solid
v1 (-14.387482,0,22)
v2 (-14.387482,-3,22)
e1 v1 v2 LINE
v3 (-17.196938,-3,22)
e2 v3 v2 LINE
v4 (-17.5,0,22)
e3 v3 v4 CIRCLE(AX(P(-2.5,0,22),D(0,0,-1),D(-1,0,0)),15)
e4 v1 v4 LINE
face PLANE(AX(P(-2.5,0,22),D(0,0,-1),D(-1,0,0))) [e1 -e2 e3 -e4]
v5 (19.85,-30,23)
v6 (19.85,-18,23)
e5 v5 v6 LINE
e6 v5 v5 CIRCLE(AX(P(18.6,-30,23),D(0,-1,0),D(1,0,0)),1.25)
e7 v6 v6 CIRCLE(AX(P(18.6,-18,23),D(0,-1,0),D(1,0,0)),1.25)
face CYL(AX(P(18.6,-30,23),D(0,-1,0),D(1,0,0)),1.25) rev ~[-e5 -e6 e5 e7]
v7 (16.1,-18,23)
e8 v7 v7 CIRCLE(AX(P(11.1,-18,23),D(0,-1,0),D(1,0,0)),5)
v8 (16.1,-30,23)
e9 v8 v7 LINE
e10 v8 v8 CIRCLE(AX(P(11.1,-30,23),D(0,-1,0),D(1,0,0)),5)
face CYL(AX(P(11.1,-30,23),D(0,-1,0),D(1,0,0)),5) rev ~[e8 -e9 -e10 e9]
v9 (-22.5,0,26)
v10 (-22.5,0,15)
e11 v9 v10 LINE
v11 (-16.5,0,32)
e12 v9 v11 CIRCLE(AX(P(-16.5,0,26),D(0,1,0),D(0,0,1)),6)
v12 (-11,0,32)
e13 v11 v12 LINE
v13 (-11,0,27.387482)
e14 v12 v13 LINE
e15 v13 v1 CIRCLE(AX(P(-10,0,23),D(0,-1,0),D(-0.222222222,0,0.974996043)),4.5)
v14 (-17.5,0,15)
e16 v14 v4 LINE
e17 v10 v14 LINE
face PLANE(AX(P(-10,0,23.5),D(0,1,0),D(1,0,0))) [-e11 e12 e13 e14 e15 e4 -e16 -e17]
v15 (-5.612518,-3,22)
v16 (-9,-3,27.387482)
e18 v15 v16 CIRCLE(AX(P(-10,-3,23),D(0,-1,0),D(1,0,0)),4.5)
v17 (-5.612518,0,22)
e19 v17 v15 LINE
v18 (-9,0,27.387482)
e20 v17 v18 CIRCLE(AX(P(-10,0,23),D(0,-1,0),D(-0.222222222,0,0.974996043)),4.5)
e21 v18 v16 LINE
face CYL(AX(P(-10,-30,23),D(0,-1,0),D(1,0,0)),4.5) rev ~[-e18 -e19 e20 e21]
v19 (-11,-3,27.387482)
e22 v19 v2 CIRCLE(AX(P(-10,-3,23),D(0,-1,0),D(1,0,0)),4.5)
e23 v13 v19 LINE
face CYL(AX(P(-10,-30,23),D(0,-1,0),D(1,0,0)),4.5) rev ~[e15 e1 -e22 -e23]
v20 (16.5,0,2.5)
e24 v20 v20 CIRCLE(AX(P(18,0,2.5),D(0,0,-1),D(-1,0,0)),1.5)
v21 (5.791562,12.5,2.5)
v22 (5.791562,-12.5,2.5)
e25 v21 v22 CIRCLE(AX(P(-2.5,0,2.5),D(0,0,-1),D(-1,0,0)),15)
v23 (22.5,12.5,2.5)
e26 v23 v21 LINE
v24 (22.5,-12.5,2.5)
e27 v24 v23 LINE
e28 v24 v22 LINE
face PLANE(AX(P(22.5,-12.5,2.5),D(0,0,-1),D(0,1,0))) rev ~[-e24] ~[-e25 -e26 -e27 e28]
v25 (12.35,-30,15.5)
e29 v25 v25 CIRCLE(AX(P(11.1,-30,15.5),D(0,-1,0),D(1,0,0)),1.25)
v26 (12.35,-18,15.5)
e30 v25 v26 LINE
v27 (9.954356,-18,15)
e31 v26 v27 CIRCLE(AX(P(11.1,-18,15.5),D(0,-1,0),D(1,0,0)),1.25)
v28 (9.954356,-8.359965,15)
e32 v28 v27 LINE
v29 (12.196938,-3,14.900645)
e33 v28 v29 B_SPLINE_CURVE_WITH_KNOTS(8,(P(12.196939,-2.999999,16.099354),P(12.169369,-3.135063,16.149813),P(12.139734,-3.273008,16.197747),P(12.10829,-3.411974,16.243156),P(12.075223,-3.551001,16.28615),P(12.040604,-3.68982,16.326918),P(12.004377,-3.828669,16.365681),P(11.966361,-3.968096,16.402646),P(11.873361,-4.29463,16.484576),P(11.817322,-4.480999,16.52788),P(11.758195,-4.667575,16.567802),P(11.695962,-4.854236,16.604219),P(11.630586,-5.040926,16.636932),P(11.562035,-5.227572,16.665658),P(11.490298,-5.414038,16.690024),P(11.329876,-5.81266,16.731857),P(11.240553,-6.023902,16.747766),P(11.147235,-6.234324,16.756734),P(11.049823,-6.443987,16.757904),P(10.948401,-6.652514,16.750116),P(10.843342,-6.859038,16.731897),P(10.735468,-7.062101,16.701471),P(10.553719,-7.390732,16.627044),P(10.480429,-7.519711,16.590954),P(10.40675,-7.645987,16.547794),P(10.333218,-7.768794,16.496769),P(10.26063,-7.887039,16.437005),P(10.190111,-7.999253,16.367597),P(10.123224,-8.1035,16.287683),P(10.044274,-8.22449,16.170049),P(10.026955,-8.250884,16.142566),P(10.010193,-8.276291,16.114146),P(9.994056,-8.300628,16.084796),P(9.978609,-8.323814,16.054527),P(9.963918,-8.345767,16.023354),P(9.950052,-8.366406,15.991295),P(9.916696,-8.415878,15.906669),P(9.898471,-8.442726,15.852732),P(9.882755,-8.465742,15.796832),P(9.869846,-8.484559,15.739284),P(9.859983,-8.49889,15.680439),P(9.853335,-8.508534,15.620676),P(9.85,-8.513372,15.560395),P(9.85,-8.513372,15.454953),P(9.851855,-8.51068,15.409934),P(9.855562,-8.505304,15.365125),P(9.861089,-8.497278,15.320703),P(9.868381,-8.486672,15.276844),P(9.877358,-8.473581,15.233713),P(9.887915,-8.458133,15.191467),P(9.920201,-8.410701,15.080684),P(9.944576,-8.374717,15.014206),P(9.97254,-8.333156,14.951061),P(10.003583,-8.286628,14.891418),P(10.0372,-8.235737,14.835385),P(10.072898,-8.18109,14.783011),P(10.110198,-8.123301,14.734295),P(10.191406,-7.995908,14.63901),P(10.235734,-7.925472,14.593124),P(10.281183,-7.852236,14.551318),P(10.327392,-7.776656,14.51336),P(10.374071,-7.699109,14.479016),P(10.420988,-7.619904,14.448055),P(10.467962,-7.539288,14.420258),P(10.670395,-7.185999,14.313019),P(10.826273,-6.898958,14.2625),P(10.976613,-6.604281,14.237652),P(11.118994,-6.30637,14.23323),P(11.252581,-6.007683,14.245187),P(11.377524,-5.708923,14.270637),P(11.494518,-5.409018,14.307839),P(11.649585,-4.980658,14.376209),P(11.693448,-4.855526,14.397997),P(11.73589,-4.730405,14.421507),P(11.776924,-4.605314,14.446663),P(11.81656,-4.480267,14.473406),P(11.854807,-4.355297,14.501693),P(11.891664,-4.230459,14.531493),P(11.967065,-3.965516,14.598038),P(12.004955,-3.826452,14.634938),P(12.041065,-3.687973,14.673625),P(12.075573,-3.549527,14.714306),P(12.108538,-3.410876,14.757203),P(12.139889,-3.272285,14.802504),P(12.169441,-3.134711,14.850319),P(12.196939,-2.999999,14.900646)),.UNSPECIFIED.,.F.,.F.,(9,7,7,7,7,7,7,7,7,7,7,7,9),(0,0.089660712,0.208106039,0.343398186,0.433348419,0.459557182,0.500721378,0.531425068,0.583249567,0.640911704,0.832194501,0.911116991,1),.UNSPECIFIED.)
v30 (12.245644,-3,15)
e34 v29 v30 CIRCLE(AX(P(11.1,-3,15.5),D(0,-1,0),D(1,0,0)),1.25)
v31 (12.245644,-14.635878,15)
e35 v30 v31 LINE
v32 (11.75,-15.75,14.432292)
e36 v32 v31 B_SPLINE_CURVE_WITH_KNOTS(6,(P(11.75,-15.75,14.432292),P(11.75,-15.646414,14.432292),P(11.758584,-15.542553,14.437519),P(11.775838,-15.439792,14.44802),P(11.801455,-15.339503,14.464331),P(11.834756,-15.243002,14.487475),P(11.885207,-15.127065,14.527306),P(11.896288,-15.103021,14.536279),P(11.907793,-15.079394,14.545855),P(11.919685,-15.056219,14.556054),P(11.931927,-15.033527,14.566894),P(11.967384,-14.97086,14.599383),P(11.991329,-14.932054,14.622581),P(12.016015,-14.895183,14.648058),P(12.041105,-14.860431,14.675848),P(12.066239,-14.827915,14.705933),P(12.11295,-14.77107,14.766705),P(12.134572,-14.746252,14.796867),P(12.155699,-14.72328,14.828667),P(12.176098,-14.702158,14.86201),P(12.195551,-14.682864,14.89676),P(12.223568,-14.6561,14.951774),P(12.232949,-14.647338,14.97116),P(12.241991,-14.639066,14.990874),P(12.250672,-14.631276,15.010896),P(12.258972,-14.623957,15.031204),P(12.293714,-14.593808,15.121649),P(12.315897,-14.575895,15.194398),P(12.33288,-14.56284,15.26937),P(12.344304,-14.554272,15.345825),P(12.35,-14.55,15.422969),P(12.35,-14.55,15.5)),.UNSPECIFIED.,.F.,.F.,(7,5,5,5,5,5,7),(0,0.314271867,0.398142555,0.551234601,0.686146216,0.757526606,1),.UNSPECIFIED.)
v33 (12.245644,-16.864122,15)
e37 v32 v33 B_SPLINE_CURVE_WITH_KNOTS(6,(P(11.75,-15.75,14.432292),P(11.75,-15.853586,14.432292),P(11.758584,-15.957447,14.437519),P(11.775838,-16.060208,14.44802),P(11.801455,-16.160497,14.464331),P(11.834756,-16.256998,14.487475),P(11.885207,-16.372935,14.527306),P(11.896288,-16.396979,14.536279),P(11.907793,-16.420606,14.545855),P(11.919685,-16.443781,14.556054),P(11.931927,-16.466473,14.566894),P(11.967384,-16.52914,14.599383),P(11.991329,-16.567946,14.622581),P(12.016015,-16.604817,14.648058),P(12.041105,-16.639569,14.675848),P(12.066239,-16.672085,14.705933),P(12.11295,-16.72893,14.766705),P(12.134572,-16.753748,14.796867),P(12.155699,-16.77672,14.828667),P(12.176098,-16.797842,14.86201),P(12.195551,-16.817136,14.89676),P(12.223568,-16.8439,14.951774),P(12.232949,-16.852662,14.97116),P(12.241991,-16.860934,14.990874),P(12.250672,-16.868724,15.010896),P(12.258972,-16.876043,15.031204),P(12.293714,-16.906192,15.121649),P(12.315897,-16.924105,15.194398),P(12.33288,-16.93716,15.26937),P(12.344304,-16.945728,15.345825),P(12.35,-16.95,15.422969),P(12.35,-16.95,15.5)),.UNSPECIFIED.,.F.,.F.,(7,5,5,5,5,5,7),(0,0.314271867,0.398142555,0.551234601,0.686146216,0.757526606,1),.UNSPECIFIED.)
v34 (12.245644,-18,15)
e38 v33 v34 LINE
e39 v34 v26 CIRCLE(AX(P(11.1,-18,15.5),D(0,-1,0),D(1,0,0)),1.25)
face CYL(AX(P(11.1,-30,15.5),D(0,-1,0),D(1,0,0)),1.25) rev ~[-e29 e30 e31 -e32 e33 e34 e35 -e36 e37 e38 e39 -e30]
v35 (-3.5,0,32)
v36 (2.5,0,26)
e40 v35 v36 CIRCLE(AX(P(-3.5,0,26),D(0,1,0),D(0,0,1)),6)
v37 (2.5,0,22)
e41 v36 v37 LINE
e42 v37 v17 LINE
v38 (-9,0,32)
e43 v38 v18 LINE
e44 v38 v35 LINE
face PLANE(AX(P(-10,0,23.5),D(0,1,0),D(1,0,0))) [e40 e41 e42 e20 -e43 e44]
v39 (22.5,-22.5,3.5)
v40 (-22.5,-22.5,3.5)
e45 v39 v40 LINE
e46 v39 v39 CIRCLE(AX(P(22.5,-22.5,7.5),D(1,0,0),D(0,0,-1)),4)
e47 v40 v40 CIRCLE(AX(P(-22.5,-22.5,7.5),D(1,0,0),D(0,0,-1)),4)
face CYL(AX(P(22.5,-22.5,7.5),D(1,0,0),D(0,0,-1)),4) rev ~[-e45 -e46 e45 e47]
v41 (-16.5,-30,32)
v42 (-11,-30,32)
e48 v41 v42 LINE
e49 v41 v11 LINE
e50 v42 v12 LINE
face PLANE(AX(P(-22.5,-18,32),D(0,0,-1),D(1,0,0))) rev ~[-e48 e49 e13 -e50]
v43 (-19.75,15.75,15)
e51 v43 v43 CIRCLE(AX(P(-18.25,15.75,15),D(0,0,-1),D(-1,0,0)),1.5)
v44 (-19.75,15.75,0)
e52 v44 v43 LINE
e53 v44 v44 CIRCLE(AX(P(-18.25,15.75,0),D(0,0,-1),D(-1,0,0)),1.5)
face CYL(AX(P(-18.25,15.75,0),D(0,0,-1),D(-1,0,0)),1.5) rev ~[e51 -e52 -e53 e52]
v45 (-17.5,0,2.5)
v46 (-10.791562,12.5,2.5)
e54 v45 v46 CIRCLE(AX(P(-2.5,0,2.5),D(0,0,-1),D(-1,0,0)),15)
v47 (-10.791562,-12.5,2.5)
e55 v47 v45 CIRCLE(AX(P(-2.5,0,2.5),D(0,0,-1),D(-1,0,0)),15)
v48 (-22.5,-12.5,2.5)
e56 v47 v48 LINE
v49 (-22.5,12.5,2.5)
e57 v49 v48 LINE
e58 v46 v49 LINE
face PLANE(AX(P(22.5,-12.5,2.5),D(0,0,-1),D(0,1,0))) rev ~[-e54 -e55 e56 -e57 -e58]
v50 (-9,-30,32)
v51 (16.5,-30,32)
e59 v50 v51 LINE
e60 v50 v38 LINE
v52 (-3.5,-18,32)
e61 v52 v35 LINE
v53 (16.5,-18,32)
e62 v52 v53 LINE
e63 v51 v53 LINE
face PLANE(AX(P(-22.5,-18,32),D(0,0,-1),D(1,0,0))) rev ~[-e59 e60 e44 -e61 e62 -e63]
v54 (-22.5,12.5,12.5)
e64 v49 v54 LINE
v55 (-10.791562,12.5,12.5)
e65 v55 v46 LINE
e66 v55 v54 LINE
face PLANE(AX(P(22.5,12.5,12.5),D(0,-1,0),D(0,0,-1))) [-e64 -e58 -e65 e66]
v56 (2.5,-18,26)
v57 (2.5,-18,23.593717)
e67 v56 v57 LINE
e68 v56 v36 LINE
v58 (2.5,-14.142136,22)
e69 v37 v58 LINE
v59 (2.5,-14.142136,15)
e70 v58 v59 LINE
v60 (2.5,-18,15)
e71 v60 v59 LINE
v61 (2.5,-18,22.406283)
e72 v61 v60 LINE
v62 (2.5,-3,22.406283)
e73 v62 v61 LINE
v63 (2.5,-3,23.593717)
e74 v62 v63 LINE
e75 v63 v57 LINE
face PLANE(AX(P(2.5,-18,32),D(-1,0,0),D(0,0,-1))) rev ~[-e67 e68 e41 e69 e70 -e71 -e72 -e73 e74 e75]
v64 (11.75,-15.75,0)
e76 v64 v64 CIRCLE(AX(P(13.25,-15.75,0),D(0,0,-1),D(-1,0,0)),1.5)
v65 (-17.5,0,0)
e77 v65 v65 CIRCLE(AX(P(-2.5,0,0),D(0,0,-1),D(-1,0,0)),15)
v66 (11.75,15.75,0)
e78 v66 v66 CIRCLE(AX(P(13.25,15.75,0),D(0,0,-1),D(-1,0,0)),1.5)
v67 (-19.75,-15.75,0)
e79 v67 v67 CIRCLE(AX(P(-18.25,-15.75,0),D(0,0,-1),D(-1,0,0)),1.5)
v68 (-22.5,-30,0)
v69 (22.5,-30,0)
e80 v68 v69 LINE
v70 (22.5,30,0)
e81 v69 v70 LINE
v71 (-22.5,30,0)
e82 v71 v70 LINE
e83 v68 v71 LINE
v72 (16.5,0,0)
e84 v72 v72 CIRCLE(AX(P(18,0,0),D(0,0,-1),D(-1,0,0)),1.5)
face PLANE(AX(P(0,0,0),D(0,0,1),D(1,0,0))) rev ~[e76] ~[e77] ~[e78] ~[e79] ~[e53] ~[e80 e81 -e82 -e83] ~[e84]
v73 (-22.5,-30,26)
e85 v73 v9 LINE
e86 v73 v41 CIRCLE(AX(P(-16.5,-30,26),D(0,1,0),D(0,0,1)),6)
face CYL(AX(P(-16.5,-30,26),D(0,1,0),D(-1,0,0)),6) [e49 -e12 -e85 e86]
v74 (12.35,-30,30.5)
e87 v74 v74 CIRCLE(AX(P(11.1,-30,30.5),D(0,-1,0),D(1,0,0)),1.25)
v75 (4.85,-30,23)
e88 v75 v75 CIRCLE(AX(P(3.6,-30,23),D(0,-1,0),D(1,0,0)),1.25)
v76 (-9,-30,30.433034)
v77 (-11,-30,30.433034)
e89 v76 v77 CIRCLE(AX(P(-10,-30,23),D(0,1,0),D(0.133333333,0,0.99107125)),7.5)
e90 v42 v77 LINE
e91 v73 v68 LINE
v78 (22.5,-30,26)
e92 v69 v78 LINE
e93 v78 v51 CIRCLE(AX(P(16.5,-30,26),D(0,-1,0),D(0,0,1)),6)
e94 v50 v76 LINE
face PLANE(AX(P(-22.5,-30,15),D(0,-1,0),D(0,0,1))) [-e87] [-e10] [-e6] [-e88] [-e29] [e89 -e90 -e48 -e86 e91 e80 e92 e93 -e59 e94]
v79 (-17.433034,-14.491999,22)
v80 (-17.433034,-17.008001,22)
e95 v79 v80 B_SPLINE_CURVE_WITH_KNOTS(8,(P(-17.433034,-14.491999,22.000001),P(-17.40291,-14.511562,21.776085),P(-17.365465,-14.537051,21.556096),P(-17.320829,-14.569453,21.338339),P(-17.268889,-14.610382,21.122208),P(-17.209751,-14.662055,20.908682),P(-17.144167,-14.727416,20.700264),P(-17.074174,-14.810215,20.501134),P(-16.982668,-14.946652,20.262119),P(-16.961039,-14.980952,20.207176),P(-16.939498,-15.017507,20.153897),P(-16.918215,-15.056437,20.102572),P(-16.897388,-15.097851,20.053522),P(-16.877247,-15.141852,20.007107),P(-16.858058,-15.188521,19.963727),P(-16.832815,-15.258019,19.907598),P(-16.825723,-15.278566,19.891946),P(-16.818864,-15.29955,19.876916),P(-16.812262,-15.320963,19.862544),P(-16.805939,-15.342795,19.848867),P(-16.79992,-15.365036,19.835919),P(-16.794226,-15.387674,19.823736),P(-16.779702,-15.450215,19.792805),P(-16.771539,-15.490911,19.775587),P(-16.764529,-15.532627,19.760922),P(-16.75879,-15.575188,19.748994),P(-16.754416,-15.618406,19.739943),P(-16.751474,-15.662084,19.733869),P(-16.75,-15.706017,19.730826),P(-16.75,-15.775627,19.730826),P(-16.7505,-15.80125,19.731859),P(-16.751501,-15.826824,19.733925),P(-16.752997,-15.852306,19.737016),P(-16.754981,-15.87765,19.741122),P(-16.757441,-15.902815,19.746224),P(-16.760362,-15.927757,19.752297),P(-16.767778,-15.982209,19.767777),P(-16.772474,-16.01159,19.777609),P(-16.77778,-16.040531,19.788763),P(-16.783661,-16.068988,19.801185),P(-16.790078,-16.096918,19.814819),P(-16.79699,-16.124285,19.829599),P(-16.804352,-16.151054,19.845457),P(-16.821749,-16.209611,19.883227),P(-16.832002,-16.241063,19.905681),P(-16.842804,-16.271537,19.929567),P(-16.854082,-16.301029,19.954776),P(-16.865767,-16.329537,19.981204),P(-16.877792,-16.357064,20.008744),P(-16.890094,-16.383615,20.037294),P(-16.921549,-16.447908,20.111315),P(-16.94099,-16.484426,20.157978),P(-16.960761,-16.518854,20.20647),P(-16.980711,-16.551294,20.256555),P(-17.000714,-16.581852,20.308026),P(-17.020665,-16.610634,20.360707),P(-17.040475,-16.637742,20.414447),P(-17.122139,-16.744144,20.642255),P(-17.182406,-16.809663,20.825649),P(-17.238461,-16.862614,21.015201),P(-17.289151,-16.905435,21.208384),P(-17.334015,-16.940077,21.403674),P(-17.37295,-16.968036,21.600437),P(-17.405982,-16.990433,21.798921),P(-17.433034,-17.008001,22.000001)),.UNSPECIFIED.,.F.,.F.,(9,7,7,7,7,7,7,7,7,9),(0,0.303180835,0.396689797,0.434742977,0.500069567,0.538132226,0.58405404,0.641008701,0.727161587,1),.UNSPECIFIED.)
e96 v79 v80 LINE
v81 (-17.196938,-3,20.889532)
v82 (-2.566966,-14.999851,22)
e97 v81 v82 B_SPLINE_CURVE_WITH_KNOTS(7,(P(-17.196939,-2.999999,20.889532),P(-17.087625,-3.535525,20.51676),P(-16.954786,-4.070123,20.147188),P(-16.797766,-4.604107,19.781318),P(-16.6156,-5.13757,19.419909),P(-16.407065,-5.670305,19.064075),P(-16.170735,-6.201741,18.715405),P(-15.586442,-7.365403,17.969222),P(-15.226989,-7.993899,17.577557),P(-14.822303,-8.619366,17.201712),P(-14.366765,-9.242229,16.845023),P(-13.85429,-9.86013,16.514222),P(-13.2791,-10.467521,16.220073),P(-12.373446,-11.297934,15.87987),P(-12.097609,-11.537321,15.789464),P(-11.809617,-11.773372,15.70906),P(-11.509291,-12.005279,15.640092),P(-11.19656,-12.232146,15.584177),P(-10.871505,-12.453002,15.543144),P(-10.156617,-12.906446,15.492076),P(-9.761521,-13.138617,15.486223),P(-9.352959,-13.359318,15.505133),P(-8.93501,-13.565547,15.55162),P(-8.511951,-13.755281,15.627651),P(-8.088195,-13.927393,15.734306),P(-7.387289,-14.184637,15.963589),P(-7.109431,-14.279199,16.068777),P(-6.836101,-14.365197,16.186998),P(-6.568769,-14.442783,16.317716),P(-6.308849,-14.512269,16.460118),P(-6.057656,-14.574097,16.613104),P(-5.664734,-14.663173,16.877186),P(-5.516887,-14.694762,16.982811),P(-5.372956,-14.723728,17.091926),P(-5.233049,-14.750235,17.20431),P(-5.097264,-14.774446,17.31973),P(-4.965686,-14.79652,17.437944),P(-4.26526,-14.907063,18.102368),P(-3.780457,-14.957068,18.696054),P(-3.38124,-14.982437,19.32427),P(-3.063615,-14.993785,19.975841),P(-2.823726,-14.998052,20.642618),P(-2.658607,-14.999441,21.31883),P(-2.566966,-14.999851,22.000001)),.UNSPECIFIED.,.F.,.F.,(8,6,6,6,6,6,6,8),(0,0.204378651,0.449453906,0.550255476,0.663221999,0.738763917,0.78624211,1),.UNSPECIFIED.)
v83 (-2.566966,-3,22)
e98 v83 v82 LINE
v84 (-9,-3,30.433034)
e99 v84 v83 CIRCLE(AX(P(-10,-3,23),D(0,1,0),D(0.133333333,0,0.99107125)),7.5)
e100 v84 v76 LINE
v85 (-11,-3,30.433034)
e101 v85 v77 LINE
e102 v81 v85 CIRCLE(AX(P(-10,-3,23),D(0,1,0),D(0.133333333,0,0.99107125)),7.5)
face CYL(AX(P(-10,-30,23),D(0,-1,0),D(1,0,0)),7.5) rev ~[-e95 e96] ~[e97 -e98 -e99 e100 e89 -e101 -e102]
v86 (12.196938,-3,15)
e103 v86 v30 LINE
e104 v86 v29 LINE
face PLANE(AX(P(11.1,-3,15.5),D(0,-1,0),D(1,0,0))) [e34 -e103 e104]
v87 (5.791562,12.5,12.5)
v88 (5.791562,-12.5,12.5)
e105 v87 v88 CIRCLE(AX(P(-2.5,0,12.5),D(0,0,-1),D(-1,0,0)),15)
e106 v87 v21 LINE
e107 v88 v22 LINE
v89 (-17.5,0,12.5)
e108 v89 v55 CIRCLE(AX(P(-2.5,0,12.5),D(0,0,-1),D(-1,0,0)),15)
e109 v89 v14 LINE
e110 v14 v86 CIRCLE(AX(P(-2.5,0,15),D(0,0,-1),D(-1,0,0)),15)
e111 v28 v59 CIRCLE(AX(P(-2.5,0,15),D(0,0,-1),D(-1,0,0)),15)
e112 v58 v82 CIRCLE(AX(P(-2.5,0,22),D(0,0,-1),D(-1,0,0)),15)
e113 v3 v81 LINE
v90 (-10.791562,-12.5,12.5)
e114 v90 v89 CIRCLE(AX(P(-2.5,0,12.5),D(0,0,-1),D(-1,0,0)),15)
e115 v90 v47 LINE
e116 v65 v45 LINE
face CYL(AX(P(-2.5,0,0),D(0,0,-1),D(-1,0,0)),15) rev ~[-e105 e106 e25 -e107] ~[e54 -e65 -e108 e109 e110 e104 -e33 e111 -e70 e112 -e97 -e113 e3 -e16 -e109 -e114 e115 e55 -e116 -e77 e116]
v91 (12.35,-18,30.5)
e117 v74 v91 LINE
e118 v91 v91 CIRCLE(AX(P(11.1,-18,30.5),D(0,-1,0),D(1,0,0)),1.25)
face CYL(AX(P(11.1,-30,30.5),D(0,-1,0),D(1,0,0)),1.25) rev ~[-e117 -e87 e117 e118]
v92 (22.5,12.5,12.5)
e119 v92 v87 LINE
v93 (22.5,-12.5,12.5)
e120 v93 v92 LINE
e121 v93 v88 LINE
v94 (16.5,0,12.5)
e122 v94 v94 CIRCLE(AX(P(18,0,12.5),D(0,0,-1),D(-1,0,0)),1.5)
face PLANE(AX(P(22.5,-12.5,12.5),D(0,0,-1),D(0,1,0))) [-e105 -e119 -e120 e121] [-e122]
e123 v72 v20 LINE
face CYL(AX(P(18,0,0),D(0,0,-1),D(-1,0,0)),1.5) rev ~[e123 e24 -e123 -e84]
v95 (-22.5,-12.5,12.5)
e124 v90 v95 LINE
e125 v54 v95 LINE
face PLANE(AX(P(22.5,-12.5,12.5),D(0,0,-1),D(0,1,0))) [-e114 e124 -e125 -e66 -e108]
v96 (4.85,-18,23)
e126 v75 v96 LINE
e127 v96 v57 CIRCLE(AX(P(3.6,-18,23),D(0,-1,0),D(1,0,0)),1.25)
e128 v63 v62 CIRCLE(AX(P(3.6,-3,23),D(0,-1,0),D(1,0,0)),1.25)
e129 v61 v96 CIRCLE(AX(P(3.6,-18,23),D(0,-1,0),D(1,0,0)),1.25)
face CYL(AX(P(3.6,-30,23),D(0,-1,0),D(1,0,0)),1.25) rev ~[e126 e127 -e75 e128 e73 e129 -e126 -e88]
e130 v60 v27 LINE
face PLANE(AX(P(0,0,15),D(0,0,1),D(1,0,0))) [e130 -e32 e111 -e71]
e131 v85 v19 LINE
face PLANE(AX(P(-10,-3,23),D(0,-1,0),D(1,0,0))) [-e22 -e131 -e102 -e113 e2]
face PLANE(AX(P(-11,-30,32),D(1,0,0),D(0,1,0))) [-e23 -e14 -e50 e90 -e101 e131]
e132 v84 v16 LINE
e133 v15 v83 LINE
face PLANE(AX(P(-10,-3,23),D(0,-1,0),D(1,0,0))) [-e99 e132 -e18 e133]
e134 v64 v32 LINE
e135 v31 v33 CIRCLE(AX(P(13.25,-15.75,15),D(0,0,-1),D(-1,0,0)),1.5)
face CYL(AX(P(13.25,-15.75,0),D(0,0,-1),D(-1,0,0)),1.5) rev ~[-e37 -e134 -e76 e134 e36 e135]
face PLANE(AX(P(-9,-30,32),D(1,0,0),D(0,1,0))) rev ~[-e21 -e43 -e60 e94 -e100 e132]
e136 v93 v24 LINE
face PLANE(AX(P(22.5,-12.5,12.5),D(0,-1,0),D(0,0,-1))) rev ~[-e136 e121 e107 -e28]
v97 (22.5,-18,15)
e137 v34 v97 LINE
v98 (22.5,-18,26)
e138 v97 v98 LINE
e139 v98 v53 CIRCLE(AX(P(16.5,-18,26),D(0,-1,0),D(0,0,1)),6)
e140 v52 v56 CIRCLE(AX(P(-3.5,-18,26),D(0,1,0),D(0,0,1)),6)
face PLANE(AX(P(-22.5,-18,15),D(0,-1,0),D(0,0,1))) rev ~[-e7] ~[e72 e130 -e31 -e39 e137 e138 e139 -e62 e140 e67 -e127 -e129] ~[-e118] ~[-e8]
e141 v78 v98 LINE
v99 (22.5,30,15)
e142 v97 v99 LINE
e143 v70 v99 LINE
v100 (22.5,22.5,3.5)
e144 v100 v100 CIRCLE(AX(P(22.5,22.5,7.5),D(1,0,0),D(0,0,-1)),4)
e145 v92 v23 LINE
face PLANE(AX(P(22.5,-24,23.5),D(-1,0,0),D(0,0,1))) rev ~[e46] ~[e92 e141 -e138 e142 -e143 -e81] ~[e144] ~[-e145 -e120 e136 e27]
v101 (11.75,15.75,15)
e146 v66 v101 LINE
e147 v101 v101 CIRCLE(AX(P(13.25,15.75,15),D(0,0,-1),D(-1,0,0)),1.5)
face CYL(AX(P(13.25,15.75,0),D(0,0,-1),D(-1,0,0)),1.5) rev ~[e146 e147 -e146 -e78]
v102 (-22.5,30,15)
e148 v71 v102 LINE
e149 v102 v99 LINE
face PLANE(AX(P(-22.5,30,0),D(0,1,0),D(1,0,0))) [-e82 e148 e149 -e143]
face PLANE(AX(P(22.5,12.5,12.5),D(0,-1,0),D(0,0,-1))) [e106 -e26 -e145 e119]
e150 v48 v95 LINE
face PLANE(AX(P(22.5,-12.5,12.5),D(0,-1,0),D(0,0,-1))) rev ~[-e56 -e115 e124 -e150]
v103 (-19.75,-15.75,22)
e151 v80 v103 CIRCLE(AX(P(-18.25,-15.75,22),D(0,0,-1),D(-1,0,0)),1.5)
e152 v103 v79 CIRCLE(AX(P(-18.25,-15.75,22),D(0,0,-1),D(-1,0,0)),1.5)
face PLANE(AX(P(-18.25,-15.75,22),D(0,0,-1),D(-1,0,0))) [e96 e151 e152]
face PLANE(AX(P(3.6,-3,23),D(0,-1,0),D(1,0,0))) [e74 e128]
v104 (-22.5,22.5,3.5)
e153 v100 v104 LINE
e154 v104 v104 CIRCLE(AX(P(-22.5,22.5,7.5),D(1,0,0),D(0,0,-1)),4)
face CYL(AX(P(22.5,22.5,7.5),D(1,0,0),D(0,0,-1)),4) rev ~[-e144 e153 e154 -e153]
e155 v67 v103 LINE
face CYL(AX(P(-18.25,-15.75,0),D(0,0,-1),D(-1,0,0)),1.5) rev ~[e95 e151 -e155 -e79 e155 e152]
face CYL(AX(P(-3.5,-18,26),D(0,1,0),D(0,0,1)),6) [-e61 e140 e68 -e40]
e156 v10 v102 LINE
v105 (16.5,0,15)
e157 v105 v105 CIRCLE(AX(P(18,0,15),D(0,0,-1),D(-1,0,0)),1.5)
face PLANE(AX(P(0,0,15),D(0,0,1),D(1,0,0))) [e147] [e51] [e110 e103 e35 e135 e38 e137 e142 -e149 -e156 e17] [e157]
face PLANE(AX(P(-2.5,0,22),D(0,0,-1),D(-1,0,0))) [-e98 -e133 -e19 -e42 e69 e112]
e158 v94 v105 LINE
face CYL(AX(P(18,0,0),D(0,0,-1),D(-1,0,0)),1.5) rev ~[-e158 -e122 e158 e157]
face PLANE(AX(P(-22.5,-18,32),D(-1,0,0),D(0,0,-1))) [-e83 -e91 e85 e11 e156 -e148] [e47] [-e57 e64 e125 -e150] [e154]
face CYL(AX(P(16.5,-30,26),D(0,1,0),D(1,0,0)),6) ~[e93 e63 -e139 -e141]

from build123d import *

# Parameters (mm, degrees)
SKETCH1_W           = 45
SKETCH1_H           = 60
BOSS_EXTRUDE1_DEPTH = 15
SKETCH2_R           = 4
SKETCH2_W           = 10
SKETCH2_H           = 25
CUT_EXTRUDE1_DEPTH  = 46
SKETCH3_W           = 17
SKETCH3_H           = 12
BOSS_EXTRUDE2_DEPTH = 45
SKETCH4_W           = 25
SKETCH4_H           = 17
BOSS_EXTRUDE3_DEPTH = 18
SKETCH5_W           = 2
SKETCH5_H           = 30
CUT_EXTRUDE2_DEPTH  = 5
SKETCH6_R           = 4.5
CUT_EXTRUDE3_DEPTH  = 61
SKETCH7_R           = 7.5
SKETCH7_R_2         = 5
SKETCH7_R_3         = 1.25
CUT_EXTRUDE4_DEPTH  = 27
SKETCH8_R           = 15
SKETCH8_R_2         = 1.5
CUT_EXTRUDE5_DEPTH  = 22
FILLET1_R           = 6
SKETCH9_R           = 1.5
CUT_EXTRUDE6_DEPTH  = 15


with BuildPart() as part:
    # Sketch1 → Boss-Extrude1 (new body)
    with BuildSketch(Plane.XY):
        Rectangle(SKETCH1_W, SKETCH1_H)
    extrude(amount=BOSS_EXTRUDE1_DEPTH)

    # Sketch2 → Cut-Extrude1 (cut, through all)
    with BuildSketch(Plane(origin=(22.5, 0, 0), x_dir=(0, 0, -1), z_dir=(1, 0, 0))):
        with Locations((-7.5, 22.5)):
            Circle(SKETCH2_R)
        with Locations((-7.5, -22.5)):
            Circle(SKETCH2_R)
        with Locations((-7.5, 0)):
            Rectangle(SKETCH2_W, SKETCH2_H)
    extrude(amount=-CUT_EXTRUDE1_DEPTH, mode=Mode.SUBTRACT)

    # Sketch3 → Boss-Extrude2 (add)
    with BuildSketch(Plane.ZY.offset(22.5)):
        with Locations((23.5, -24)):
            Rectangle(SKETCH3_W, SKETCH3_H)
    extrude(amount=-BOSS_EXTRUDE2_DEPTH)

    # Sketch4 → Boss-Extrude3 (add)
    with BuildSketch(Plane(origin=(0, -18, 0), x_dir=(1, 0, 0), z_dir=(0, 1, 0))):
        with Locations((-10, -23.5)):
            Rectangle(SKETCH4_W, SKETCH4_H)
    extrude(amount=BOSS_EXTRUDE3_DEPTH)

    # Sketch5 → Cut-Extrude2 (cut)
    with BuildSketch(Plane.XY.offset(32)):
        with Locations((-10, -15)):
            Rectangle(SKETCH5_W, SKETCH5_H)
    extrude(amount=-CUT_EXTRUDE2_DEPTH, mode=Mode.SUBTRACT)

    # Sketch6 → Cut-Extrude3 (cut, through all)
    with BuildSketch(Plane.XZ.offset(30)):
        with Locations((-10, 23)):
            Circle(SKETCH6_R)
    extrude(amount=-CUT_EXTRUDE3_DEPTH, mode=Mode.SUBTRACT)

    # Sketch7 → Cut-Extrude4 (cut)
    with BuildSketch(Plane.XZ.offset(30)):
        with Locations((-10, 23)):
            Circle(SKETCH7_R)
        with Locations((11.1, 23)):
            Circle(SKETCH7_R_2)
        with Locations((18.6, 23)):
            Circle(SKETCH7_R_3)
        with Locations((11.1, 30.5)):
            Circle(SKETCH7_R_3)
        with Locations((11.1, 15.5)):
            Circle(SKETCH7_R_3)
        with Locations((3.6, 23)):
            Circle(SKETCH7_R_3)
    extrude(amount=-CUT_EXTRUDE4_DEPTH, mode=Mode.SUBTRACT)

    # Sketch8 → Cut-Extrude5 (cut)
    with BuildSketch(Plane(origin=(0, 0, 0), x_dir=(-1, 0, 0), z_dir=(0, 0, -1))):
        with Locations((2.5, 0)):
            Circle(SKETCH8_R)
        with Locations((18.25, 15.75)):
            Circle(SKETCH8_R_2)
        with Locations((-13.25, 15.75)):
            Circle(SKETCH8_R_2)
        with Locations((-13.25, -15.75)):
            Circle(SKETCH8_R_2)
        with Locations((18.25, -15.75)):
            Circle(SKETCH8_R_2)
    extrude(amount=-CUT_EXTRUDE5_DEPTH, mode=Mode.SUBTRACT)

    # Fillet1
    fillet1_edges = [part.edges().sort_by_distance(p)[0] for p in [
        (-22.5, -15, 32),
        (22.5, -24, 32),
        (2.5, -9, 32),
    ]]
    fillet(fillet1_edges, radius=FILLET1_R)

    # Sketch9 → Cut-Extrude6 (cut)
    with BuildSketch(Plane(origin=(0, 0, 0), x_dir=(-1, 0, 0), z_dir=(0, 0, -1))):
        with Locations((-18, 0)):
            Circle(SKETCH9_R)
    extrude(amount=-CUT_EXTRUDE6_DEPTH, mode=Mode.SUBTRACT)


solid = part.part
